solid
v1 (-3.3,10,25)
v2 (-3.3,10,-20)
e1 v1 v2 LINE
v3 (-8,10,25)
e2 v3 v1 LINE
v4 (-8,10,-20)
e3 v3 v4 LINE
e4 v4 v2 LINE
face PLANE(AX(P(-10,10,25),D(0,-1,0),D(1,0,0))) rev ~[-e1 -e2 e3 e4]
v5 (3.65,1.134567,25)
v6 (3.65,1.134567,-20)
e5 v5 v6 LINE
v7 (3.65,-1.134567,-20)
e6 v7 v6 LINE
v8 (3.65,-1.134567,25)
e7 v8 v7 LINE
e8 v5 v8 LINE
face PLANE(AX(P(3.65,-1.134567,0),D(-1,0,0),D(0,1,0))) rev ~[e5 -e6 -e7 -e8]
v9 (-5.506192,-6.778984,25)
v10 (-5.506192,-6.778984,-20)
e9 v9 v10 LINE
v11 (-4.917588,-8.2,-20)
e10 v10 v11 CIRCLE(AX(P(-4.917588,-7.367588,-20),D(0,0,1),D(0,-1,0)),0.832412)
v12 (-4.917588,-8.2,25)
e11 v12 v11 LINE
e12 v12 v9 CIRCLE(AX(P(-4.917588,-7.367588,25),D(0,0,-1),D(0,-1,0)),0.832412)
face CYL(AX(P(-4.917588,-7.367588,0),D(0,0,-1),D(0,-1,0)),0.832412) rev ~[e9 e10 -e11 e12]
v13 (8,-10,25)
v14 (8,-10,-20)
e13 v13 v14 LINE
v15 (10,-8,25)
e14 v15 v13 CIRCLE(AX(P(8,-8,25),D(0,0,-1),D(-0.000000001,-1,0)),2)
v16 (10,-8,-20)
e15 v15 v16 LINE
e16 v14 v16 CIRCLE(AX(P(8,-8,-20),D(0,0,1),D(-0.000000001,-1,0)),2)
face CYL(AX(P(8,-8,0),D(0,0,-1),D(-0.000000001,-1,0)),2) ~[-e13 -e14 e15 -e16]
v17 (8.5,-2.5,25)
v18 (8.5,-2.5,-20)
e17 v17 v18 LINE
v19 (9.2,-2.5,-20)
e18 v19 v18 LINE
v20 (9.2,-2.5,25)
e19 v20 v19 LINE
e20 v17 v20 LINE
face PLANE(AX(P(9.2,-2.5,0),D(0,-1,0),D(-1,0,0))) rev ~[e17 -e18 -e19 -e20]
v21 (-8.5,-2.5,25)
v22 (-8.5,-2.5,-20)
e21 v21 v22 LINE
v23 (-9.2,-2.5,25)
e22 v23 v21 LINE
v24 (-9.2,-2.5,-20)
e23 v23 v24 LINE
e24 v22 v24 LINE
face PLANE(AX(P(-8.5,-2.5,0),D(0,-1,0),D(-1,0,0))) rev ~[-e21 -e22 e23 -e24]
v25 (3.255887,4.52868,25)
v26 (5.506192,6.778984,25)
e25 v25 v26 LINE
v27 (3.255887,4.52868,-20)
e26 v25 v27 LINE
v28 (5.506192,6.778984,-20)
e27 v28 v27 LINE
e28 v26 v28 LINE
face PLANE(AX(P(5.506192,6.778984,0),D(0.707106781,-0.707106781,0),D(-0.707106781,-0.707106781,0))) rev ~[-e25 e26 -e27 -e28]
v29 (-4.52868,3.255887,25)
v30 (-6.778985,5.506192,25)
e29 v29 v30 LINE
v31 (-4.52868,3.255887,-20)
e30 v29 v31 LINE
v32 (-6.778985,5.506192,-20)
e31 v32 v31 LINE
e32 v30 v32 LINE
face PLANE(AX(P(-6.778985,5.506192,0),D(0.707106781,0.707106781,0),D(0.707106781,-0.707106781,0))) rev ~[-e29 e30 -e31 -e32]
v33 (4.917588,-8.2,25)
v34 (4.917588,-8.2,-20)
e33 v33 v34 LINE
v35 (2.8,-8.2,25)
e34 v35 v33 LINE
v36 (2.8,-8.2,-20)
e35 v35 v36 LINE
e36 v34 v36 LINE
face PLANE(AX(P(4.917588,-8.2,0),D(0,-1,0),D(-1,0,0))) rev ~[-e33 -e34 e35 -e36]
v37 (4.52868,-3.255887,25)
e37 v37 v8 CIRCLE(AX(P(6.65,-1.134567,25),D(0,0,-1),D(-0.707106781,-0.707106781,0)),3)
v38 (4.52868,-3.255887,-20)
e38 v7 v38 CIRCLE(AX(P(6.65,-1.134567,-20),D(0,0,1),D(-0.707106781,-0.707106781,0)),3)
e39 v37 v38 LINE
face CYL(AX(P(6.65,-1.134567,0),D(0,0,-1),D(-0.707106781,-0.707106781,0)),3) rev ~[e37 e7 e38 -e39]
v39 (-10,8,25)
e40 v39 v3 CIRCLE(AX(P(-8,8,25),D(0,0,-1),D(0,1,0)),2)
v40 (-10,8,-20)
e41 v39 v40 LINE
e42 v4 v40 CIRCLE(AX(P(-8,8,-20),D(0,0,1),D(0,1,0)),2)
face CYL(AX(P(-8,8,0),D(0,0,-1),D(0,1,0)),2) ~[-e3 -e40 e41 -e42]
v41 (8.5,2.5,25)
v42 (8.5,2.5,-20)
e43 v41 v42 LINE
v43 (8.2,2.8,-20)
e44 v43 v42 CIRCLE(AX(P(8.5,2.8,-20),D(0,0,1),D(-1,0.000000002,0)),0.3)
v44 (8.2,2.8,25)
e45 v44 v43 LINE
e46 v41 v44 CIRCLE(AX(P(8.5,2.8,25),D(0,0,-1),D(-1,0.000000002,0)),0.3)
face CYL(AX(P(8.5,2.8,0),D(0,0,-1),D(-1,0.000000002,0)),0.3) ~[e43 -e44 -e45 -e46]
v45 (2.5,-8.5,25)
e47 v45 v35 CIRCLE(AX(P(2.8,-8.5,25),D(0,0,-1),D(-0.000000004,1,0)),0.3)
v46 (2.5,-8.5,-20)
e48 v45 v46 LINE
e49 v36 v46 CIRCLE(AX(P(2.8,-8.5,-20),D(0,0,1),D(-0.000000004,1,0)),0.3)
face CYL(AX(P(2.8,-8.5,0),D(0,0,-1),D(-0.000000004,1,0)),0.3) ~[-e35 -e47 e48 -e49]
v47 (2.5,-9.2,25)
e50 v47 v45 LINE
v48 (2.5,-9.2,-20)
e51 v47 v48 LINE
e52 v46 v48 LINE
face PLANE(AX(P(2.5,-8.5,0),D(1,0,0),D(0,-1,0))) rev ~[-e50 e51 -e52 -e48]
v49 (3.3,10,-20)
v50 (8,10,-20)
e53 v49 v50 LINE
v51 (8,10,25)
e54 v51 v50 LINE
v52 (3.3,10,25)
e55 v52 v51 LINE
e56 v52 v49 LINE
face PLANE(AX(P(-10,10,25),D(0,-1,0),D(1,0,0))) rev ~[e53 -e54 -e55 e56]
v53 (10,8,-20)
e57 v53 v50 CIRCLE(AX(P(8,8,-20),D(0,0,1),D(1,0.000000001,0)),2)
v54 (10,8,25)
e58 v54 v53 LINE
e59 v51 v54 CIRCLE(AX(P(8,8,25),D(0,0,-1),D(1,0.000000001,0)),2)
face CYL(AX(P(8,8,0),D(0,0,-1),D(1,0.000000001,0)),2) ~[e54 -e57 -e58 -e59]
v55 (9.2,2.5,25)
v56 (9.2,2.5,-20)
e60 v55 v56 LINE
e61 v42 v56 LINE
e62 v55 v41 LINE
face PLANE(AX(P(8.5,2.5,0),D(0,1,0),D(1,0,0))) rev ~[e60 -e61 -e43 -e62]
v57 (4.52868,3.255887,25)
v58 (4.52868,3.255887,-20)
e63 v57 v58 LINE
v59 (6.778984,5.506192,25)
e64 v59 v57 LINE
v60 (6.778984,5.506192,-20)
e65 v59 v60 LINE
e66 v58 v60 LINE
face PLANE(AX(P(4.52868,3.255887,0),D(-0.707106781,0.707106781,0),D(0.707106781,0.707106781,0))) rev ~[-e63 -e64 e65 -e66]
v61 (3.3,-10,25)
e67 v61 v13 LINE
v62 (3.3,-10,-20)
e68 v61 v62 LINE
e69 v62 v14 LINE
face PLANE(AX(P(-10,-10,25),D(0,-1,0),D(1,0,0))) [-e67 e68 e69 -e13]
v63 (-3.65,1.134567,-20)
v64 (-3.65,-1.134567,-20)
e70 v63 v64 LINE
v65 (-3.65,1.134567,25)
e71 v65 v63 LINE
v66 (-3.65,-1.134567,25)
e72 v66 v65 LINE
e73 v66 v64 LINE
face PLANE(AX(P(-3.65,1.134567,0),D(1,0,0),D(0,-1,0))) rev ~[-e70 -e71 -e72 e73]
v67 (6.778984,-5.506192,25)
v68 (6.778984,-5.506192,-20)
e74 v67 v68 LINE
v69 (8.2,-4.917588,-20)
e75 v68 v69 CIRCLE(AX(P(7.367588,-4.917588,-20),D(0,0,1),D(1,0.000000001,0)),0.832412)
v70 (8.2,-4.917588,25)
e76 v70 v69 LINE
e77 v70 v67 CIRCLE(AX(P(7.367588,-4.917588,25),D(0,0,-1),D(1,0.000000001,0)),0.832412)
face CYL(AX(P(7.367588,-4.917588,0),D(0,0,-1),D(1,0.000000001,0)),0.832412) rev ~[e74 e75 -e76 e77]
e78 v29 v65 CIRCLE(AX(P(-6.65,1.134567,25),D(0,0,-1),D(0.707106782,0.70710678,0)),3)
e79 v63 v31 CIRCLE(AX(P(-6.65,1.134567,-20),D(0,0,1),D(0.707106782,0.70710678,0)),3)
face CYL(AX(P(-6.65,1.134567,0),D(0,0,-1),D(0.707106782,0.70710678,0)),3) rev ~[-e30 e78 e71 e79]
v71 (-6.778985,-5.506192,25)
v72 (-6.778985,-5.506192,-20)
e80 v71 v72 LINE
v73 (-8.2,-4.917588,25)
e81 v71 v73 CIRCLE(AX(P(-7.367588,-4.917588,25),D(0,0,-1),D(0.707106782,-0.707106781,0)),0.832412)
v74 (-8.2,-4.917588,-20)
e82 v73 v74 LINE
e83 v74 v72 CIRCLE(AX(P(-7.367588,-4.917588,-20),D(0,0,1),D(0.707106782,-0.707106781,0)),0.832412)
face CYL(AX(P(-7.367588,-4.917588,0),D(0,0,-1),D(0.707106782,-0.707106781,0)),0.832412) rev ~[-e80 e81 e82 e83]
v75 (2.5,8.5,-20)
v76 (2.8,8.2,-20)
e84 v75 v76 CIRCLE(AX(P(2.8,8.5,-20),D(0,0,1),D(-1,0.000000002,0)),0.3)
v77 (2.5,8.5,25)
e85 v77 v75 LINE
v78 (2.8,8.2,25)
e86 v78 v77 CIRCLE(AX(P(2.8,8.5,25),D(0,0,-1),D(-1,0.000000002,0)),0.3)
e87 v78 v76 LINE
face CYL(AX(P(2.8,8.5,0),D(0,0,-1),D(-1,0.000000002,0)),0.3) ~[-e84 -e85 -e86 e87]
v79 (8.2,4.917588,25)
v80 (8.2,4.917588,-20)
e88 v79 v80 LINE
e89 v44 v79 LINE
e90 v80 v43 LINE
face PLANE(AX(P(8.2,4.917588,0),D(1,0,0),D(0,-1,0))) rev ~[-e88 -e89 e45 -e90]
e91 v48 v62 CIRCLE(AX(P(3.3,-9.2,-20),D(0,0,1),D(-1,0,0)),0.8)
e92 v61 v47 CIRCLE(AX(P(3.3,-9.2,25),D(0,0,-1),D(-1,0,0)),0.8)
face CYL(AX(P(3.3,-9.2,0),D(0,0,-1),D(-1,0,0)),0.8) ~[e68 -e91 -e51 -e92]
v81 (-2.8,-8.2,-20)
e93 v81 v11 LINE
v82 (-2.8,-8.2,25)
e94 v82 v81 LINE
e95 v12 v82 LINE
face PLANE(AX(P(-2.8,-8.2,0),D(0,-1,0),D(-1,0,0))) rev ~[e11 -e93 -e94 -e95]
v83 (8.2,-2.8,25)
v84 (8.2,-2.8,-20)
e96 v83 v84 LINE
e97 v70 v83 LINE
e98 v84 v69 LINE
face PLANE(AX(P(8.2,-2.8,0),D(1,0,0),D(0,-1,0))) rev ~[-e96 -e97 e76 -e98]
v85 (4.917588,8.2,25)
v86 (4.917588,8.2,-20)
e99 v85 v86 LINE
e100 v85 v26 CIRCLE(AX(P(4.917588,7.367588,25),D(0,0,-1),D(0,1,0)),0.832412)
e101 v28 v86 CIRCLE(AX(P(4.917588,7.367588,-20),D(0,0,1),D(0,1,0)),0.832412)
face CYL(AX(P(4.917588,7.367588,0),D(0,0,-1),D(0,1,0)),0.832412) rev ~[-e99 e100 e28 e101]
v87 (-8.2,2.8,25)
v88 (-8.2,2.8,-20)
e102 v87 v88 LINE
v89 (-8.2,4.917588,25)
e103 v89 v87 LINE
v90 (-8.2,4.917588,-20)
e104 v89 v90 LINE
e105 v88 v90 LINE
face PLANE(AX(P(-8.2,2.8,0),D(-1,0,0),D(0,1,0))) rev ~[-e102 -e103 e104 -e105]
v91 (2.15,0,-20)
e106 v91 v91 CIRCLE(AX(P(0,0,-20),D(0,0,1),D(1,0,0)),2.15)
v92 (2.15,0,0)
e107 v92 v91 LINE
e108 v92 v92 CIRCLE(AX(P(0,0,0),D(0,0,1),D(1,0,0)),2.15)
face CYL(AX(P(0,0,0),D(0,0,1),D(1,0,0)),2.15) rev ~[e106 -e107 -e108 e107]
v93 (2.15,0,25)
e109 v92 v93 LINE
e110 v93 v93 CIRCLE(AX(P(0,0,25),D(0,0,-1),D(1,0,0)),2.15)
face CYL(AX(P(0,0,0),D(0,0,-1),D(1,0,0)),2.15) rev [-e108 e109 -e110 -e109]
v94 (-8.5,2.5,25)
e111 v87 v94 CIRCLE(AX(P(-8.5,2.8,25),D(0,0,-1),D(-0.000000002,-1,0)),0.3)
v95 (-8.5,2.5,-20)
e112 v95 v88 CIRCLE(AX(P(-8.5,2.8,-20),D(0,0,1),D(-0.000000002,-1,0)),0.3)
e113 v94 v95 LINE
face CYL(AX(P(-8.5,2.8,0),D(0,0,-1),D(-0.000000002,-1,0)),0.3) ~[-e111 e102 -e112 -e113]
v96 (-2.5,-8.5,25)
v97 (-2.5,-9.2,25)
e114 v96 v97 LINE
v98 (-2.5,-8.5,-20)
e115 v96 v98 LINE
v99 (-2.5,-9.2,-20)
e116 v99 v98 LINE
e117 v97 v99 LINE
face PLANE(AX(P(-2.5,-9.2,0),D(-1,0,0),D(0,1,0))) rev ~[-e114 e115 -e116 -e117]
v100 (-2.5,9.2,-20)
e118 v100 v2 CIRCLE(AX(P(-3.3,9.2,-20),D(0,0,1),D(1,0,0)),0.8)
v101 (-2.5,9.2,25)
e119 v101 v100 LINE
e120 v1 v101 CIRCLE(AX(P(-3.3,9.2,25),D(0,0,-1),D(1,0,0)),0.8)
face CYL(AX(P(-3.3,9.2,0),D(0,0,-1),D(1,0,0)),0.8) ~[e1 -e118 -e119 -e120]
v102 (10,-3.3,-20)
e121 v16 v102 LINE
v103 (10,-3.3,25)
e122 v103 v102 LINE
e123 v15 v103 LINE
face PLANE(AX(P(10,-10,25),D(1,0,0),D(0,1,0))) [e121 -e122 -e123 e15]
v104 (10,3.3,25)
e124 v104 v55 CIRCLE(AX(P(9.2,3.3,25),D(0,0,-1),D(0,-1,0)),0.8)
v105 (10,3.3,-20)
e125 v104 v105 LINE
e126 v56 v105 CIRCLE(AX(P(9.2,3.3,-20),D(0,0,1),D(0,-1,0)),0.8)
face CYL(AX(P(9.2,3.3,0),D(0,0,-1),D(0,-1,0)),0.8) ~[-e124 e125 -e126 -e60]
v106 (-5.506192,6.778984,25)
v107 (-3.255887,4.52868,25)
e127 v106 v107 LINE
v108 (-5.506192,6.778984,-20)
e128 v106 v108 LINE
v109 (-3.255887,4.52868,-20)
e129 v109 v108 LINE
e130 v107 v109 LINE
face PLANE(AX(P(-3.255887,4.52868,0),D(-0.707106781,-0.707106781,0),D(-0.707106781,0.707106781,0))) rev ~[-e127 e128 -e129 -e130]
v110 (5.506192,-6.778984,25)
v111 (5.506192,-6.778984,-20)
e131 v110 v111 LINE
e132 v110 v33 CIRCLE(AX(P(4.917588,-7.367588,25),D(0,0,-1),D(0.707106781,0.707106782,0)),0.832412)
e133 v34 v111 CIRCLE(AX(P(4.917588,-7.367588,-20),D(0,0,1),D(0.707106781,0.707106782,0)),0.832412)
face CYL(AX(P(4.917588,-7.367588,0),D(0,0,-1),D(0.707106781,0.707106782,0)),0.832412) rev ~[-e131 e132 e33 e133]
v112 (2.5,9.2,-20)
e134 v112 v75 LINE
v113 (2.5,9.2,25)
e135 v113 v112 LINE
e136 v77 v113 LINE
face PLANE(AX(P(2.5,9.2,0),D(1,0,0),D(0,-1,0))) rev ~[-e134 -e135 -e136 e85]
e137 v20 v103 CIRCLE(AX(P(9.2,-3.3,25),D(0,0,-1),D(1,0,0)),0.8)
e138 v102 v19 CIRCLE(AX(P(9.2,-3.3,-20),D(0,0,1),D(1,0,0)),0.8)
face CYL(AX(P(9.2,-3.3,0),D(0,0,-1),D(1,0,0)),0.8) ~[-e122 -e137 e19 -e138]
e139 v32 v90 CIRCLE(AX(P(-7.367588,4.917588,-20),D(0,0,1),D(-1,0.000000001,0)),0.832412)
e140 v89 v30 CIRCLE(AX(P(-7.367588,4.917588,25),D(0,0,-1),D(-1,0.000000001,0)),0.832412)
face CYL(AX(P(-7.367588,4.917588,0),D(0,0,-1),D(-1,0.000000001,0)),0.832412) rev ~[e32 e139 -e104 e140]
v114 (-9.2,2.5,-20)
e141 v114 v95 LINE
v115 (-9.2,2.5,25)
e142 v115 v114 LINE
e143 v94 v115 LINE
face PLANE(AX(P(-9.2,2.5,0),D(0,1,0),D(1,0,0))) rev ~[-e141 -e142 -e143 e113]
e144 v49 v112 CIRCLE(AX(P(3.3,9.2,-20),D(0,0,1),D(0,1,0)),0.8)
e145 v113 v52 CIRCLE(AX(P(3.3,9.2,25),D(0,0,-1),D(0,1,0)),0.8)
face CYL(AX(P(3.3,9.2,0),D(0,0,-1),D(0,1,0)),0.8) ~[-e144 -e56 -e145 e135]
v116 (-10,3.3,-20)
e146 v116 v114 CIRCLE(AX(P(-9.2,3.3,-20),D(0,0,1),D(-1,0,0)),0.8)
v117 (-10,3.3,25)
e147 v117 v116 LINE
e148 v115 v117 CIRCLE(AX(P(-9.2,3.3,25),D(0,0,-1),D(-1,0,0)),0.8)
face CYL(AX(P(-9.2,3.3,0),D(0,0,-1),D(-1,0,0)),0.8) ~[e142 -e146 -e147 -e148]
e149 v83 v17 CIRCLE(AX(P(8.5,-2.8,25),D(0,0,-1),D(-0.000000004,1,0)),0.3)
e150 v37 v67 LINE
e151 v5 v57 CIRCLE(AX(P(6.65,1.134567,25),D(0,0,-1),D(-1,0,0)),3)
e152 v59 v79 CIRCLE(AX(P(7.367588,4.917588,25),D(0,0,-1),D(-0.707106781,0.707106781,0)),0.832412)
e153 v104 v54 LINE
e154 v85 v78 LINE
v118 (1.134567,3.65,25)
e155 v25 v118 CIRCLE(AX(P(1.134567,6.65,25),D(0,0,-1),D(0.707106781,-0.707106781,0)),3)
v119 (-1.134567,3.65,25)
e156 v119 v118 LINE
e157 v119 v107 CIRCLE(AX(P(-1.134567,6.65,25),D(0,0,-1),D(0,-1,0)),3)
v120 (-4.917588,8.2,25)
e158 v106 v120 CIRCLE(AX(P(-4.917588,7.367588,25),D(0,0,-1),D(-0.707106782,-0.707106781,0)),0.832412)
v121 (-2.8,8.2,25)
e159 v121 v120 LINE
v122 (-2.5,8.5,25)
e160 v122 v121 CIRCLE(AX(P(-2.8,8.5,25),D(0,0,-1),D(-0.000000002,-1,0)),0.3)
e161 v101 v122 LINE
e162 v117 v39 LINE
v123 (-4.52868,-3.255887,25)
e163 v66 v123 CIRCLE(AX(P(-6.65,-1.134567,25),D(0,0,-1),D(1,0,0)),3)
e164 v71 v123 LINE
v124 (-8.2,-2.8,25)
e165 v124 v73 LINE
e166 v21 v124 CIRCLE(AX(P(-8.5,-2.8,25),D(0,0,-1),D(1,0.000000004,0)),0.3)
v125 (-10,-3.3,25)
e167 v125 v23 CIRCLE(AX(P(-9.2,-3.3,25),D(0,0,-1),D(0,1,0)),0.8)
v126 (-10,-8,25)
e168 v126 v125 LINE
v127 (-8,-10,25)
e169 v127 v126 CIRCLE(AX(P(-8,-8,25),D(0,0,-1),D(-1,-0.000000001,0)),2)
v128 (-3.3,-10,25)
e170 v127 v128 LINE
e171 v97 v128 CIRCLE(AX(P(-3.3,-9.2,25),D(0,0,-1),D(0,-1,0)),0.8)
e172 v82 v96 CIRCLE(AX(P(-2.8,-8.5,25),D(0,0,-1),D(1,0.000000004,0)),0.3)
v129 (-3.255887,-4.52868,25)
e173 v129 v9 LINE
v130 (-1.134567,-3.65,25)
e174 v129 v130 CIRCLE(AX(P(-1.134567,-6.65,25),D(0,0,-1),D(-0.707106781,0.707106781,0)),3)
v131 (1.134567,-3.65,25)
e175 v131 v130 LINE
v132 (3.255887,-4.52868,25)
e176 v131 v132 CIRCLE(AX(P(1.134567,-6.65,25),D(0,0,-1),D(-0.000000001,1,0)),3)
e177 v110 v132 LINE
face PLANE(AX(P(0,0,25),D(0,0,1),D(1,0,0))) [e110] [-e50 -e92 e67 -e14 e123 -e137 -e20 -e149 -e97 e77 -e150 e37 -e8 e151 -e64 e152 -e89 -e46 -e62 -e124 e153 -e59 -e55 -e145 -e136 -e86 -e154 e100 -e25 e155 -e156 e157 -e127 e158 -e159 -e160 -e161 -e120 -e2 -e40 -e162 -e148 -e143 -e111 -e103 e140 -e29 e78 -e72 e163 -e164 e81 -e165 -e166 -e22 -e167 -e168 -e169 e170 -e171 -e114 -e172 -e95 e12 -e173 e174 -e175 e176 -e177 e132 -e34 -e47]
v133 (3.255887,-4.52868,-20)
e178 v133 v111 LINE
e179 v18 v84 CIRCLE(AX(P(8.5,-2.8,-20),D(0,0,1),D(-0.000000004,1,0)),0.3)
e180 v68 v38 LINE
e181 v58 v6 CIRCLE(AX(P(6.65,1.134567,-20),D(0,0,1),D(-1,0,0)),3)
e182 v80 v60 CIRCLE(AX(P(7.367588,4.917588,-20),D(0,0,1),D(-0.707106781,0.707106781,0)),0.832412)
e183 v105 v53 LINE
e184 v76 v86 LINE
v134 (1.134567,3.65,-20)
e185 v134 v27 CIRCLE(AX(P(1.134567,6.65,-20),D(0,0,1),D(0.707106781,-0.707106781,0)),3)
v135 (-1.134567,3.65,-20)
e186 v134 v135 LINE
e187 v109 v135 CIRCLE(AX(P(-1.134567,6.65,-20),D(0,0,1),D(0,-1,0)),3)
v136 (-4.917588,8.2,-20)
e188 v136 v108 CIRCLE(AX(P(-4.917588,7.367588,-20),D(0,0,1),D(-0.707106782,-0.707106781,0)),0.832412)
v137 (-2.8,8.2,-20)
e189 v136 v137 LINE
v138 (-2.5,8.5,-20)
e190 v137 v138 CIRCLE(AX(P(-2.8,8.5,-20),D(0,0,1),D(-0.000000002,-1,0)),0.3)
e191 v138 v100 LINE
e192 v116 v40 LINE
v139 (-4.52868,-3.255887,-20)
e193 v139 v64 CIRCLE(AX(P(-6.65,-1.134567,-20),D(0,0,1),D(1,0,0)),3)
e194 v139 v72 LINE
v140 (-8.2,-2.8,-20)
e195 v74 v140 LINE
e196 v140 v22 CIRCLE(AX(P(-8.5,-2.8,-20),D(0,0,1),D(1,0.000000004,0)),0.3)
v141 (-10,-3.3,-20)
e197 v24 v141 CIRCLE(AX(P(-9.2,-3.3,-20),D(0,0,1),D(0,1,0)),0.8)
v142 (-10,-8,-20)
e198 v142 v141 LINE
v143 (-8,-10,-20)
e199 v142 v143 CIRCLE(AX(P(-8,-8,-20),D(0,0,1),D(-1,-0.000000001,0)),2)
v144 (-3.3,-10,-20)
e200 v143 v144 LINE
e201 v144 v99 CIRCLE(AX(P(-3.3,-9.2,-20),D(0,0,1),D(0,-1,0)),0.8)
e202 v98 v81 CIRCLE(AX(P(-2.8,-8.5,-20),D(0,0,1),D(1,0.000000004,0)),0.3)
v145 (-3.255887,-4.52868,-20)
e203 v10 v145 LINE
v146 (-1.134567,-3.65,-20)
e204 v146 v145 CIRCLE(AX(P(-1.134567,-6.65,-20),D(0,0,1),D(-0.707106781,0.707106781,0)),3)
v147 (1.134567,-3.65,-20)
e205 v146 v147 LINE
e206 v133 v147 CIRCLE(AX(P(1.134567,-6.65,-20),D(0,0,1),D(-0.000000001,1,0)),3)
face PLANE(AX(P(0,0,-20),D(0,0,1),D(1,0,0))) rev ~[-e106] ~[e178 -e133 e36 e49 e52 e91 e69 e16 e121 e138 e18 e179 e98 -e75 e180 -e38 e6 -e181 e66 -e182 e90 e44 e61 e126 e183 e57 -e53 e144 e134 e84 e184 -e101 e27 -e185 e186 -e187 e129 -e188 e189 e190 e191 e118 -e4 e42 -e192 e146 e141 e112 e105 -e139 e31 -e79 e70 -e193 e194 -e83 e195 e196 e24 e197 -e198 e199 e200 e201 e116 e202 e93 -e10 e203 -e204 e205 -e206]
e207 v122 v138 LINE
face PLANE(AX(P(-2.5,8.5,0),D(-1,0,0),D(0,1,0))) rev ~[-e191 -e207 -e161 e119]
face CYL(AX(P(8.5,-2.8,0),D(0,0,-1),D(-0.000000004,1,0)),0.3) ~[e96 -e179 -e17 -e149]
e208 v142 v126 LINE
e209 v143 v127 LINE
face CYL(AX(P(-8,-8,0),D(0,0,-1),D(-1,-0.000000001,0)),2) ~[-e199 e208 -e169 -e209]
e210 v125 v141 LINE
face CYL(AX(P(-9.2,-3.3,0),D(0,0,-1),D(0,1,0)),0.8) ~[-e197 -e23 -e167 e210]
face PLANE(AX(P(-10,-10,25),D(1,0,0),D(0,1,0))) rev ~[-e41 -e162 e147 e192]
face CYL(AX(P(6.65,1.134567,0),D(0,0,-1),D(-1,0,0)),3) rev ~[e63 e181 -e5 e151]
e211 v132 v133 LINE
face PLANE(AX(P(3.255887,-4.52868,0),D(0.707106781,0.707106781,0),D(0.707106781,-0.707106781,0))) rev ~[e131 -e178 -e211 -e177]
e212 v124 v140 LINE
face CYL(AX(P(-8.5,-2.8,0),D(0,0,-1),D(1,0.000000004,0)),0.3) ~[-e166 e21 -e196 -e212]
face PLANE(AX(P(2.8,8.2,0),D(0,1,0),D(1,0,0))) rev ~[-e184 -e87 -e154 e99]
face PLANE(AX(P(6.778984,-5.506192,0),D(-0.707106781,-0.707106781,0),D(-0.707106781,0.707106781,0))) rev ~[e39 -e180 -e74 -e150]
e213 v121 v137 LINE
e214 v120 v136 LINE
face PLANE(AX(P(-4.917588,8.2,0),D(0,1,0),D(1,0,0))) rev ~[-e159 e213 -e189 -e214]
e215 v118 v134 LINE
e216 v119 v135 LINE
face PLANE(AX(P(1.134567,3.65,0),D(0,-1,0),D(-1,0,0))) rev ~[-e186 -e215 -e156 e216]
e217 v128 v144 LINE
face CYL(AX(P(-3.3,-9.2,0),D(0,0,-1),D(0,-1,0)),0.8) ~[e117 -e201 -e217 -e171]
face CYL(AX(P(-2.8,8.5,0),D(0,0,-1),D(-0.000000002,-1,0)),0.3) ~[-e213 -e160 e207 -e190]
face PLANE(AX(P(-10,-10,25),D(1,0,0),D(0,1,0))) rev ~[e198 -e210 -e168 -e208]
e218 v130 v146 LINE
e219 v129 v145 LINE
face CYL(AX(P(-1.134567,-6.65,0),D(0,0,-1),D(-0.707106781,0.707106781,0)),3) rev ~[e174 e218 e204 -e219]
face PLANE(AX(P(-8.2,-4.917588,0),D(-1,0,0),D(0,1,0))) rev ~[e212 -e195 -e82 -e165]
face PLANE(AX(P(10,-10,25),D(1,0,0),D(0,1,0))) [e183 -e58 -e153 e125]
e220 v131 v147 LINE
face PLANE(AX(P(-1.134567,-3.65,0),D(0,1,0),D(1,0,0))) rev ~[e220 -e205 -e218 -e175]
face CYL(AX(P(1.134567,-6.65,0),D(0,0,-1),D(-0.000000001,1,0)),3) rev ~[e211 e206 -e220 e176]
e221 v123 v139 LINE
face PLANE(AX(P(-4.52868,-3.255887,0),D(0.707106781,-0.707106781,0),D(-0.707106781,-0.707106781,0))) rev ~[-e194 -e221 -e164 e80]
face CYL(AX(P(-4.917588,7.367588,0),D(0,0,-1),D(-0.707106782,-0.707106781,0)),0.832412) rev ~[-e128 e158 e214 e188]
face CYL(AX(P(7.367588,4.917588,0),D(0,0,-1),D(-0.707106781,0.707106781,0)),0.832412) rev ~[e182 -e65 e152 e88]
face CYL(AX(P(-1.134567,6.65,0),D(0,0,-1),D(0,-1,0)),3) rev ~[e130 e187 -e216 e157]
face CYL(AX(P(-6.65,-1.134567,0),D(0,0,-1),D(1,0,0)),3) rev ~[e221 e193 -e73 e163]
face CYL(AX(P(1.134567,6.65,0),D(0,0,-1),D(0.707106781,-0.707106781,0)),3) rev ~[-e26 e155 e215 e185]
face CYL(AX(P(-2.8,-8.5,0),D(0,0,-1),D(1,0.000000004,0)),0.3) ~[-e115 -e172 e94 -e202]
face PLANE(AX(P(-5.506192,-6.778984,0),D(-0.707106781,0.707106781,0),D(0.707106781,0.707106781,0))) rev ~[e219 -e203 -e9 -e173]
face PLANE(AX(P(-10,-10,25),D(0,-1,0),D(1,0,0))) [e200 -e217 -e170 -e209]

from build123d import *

# Parameters (mm, degrees)
SKETCH4_W              = 20
SKETCH4_H              = 20
BODY_DEPTH             = 45
SKETCH16_OUTSIDE_W     = 32.63
SKETCH16_OUTSIDE_H     = 32.63
SKETCH16_OUTSIDE_R     = 2.15
CUT_PROFILE_DEPTH      = 26
CUT_PROFILE_DEPTH_BACK = 21


with BuildPart() as part:
    # Sketch4 → Body (new body)
    with BuildSketch(Plane.XY.offset(25)):
        Rectangle(SKETCH4_W, SKETCH4_H)
    extrude(amount=-BODY_DEPTH)

    # Sketch16 outside → Cut-Profile (cut, two sides)
    with BuildSketch(Plane.XY) as cut_profile_sk:
        Rectangle(SKETCH16_OUTSIDE_W, SKETCH16_OUTSIDE_H)
        with BuildLine():
            Line((4.917588389, -8.199999991), (2.799999989, -8.199999991))
            ThreePointArc((2.799999989, -8.199999991), (2.587867955, -8.287867957), (2.499999989, -8.499999991))
            Line((2.499999989, -8.499999991), (2.499999989, -9.199999991))
            ThreePointArc((2.499999989, -9.199999991), (2.734314564, -9.765685416), (3.299999989, -9.999999991))
            Line((3.299999989, -9.999999991), (7.999999989, -9.999999991))
            ThreePointArc((7.999999989, -9.999999991), (9.414213552, -9.414213554), (9.999999989, -7.999999991))
            Line((9.999999989, -7.999999991), (9.999999989, -3.299999991))
            ThreePointArc((9.999999989, -3.299999991), (9.765685414, -2.734314566), (9.199999989, -2.499999991))
            Line((9.199999989, -2.499999991), (8.499999989, -2.499999991))
            ThreePointArc((8.499999989, -2.499999991), (8.287867955, -2.587867957), (8.199999989, -2.799999991))
            Line((8.199999989, -2.799999991), (8.199999989, -4.917588391))
            ThreePointArc((8.199999989, -4.917588391), (7.686138511, -5.686636441), (6.778984485, -5.506192286))
            Line((6.778984485, -5.506192286), (4.528679645, -3.255887446))
            ThreePointArc((4.528679645, -3.255887446), (3.878361392, -2.282617401), (3.64999999, -1.134567106))
            Line((3.64999999, -1.134567106), (3.64999999, 1.134567104))
            ThreePointArc((3.64999999, 1.134567104), (3.878361393, 2.282617402), (4.528679647, 3.255887448))
            Line((4.528679647, 3.255887448), (6.778984487, 5.506192288))
            ThreePointArc((6.778984487, 5.506192288), (7.686138506, 5.686636442), (8.199999981, 4.917588398))
            Line((8.199999981, 4.917588398), (8.199999981, 2.799999998))
            ThreePointArc((8.199999981, 2.799999998), (8.287867946, 2.587867964), (8.499999981, 2.499999998))
            Line((8.499999981, 2.499999998), (9.199999981, 2.499999998))
            ThreePointArc((9.199999981, 2.499999998), (9.765685406, 2.734314573), (9.999999981, 3.299999998))
            Line((9.999999981, 3.299999998), (9.999999981, 7.999999998))
            ThreePointArc((9.999999981, 7.999999998), (9.414213543, 9.41421356), (7.999999981, 9.999999998))
            Line((7.999999981, 9.999999998), (3.299999981, 9.999999998))
            ThreePointArc((3.299999981, 9.999999998), (2.734314556, 9.765685423), (2.499999981, 9.199999998))
            Line((2.499999981, 9.199999998), (2.499999981, 8.499999998))
            ThreePointArc((2.499999981, 8.499999998), (2.587867946, 8.287867964), (2.799999981, 8.199999998))
            Line((2.799999981, 8.199999998), (4.917588381, 8.199999998))
            ThreePointArc((4.917588381, 8.199999998), (5.68663643, 7.68613852), (5.506192275, 6.778984494))
            Line((5.506192275, 6.778984494), (3.255887435, 4.528679654))
            ThreePointArc((3.255887435, 4.528679654), (2.28261739, 3.878361401), (1.134567095, 3.649999999))
            Line((1.134567095, 3.649999999), (-1.134567115, 3.649999999))
            ThreePointArc((-1.134567115, 3.649999999), (-2.282617412, 3.878361401), (-3.255887459, 4.528679655))
            Line((-3.255887459, 4.528679655), (-5.506192299, 6.778984495))
            ThreePointArc((-5.506192299, 6.778984495), (-5.686636452, 7.686138515), (-4.917588409, 8.199999989))
            Line((-4.917588409, 8.199999989), (-2.800000009, 8.199999989))
            ThreePointArc((-2.800000009, 8.199999989), (-2.587867974, 8.287867955), (-2.500000009, 8.499999989))
            Line((-2.500000009, 8.499999989), (-2.500000009, 9.199999989))
            ThreePointArc((-2.500000009, 9.199999989), (-2.734314584, 9.765685414), (-3.300000009, 9.999999989))
            Line((-3.300000009, 9.999999989), (-8.000000009, 9.999999989))
            ThreePointArc((-8.000000009, 9.999999989), (-9.414213571, 9.414213552), (-10.000000009, 7.999999989))
            Line((-10.000000009, 7.999999989), (-10.000000009, 3.299999989))
            ThreePointArc((-10.000000009, 3.299999989), (-9.765685434, 2.734314564), (-9.200000009, 2.499999989))
            Line((-9.200000009, 2.499999989), (-8.500000009, 2.499999989))
            ThreePointArc((-8.500000009, 2.499999989), (-8.287867974, 2.587867955), (-8.200000009, 2.799999989))
            Line((-8.200000009, 2.799999989), (-8.200000009, 4.917588389))
            ThreePointArc((-8.200000009, 4.917588389), (-7.686138531, 5.686636438), (-6.778984504, 5.506192284))
            Line((-6.778984504, 5.506192284), (-4.528679664, 3.255887444))
            ThreePointArc((-4.528679664, 3.255887444), (-3.878361412, 2.282617399), (-3.650000009, 1.134567104))
            Line((-3.650000009, 1.134567104), (-3.650000009, -1.134567106))
            ThreePointArc((-3.650000009, -1.134567106), (-3.878361412, -2.282617404), (-4.528679666, -3.25588745))
            Line((-4.528679666, -3.25588745), (-6.778984506, -5.50619229))
            ThreePointArc((-6.778984506, -5.50619229), (-7.686138526, -5.686636444), (-8.2, -4.9175884))
            Line((-8.2, -4.9175884), (-8.2, -2.8))
            ThreePointArc((-8.2, -2.8), (-8.287867966, -2.587867966), (-8.5, -2.5))
            Line((-8.5, -2.5), (-9.2, -2.5))
            ThreePointArc((-9.2, -2.5), (-9.765685425, -2.734314575), (-10, -3.3))
            Line((-10, -3.3), (-10, -8))
            ThreePointArc((-10, -8), (-9.414213562, -9.414213562), (-8, -10))
            Line((-8, -10), (-3.3, -10))
            ThreePointArc((-3.3, -10), (-2.734314575, -9.765685425), (-2.5, -9.2))
            Line((-2.5, -9.2), (-2.5, -8.5))
            ThreePointArc((-2.5, -8.5), (-2.587867966, -8.287867966), (-2.8, -8.2))
            Line((-2.8, -8.2), (-4.9175884, -8.2))
            ThreePointArc((-4.9175884, -8.2), (-5.686636449, -7.686138522), (-5.506192294, -6.778984496))
            Line((-5.506192294, -6.778984496), (-3.255887454, -4.528679656))
            ThreePointArc((-3.255887454, -4.528679656), (-2.282617409, -3.878361403), (-1.134567114, -3.650000001))
            Line((-1.134567114, -3.650000001), (1.134567096, -3.650000001))
            ThreePointArc((1.134567096, -3.650000001), (2.282617393, -3.878361403), (3.255887439, -4.528679657))
            Line((3.255887439, -4.528679657), (5.506192279, -6.778984497))
            ThreePointArc((5.506192279, -6.778984497), (5.686636433, -7.686138517), (4.917588389, -8.199999991))
        make_face(mode=Mode.SUBTRACT)
        Circle(SKETCH16_OUTSIDE_R)
    extrude(amount=CUT_PROFILE_DEPTH, mode=Mode.SUBTRACT)
    extrude(cut_profile_sk.sketch, amount=-CUT_PROFILE_DEPTH_BACK, mode=Mode.SUBTRACT)


solid = part.part
